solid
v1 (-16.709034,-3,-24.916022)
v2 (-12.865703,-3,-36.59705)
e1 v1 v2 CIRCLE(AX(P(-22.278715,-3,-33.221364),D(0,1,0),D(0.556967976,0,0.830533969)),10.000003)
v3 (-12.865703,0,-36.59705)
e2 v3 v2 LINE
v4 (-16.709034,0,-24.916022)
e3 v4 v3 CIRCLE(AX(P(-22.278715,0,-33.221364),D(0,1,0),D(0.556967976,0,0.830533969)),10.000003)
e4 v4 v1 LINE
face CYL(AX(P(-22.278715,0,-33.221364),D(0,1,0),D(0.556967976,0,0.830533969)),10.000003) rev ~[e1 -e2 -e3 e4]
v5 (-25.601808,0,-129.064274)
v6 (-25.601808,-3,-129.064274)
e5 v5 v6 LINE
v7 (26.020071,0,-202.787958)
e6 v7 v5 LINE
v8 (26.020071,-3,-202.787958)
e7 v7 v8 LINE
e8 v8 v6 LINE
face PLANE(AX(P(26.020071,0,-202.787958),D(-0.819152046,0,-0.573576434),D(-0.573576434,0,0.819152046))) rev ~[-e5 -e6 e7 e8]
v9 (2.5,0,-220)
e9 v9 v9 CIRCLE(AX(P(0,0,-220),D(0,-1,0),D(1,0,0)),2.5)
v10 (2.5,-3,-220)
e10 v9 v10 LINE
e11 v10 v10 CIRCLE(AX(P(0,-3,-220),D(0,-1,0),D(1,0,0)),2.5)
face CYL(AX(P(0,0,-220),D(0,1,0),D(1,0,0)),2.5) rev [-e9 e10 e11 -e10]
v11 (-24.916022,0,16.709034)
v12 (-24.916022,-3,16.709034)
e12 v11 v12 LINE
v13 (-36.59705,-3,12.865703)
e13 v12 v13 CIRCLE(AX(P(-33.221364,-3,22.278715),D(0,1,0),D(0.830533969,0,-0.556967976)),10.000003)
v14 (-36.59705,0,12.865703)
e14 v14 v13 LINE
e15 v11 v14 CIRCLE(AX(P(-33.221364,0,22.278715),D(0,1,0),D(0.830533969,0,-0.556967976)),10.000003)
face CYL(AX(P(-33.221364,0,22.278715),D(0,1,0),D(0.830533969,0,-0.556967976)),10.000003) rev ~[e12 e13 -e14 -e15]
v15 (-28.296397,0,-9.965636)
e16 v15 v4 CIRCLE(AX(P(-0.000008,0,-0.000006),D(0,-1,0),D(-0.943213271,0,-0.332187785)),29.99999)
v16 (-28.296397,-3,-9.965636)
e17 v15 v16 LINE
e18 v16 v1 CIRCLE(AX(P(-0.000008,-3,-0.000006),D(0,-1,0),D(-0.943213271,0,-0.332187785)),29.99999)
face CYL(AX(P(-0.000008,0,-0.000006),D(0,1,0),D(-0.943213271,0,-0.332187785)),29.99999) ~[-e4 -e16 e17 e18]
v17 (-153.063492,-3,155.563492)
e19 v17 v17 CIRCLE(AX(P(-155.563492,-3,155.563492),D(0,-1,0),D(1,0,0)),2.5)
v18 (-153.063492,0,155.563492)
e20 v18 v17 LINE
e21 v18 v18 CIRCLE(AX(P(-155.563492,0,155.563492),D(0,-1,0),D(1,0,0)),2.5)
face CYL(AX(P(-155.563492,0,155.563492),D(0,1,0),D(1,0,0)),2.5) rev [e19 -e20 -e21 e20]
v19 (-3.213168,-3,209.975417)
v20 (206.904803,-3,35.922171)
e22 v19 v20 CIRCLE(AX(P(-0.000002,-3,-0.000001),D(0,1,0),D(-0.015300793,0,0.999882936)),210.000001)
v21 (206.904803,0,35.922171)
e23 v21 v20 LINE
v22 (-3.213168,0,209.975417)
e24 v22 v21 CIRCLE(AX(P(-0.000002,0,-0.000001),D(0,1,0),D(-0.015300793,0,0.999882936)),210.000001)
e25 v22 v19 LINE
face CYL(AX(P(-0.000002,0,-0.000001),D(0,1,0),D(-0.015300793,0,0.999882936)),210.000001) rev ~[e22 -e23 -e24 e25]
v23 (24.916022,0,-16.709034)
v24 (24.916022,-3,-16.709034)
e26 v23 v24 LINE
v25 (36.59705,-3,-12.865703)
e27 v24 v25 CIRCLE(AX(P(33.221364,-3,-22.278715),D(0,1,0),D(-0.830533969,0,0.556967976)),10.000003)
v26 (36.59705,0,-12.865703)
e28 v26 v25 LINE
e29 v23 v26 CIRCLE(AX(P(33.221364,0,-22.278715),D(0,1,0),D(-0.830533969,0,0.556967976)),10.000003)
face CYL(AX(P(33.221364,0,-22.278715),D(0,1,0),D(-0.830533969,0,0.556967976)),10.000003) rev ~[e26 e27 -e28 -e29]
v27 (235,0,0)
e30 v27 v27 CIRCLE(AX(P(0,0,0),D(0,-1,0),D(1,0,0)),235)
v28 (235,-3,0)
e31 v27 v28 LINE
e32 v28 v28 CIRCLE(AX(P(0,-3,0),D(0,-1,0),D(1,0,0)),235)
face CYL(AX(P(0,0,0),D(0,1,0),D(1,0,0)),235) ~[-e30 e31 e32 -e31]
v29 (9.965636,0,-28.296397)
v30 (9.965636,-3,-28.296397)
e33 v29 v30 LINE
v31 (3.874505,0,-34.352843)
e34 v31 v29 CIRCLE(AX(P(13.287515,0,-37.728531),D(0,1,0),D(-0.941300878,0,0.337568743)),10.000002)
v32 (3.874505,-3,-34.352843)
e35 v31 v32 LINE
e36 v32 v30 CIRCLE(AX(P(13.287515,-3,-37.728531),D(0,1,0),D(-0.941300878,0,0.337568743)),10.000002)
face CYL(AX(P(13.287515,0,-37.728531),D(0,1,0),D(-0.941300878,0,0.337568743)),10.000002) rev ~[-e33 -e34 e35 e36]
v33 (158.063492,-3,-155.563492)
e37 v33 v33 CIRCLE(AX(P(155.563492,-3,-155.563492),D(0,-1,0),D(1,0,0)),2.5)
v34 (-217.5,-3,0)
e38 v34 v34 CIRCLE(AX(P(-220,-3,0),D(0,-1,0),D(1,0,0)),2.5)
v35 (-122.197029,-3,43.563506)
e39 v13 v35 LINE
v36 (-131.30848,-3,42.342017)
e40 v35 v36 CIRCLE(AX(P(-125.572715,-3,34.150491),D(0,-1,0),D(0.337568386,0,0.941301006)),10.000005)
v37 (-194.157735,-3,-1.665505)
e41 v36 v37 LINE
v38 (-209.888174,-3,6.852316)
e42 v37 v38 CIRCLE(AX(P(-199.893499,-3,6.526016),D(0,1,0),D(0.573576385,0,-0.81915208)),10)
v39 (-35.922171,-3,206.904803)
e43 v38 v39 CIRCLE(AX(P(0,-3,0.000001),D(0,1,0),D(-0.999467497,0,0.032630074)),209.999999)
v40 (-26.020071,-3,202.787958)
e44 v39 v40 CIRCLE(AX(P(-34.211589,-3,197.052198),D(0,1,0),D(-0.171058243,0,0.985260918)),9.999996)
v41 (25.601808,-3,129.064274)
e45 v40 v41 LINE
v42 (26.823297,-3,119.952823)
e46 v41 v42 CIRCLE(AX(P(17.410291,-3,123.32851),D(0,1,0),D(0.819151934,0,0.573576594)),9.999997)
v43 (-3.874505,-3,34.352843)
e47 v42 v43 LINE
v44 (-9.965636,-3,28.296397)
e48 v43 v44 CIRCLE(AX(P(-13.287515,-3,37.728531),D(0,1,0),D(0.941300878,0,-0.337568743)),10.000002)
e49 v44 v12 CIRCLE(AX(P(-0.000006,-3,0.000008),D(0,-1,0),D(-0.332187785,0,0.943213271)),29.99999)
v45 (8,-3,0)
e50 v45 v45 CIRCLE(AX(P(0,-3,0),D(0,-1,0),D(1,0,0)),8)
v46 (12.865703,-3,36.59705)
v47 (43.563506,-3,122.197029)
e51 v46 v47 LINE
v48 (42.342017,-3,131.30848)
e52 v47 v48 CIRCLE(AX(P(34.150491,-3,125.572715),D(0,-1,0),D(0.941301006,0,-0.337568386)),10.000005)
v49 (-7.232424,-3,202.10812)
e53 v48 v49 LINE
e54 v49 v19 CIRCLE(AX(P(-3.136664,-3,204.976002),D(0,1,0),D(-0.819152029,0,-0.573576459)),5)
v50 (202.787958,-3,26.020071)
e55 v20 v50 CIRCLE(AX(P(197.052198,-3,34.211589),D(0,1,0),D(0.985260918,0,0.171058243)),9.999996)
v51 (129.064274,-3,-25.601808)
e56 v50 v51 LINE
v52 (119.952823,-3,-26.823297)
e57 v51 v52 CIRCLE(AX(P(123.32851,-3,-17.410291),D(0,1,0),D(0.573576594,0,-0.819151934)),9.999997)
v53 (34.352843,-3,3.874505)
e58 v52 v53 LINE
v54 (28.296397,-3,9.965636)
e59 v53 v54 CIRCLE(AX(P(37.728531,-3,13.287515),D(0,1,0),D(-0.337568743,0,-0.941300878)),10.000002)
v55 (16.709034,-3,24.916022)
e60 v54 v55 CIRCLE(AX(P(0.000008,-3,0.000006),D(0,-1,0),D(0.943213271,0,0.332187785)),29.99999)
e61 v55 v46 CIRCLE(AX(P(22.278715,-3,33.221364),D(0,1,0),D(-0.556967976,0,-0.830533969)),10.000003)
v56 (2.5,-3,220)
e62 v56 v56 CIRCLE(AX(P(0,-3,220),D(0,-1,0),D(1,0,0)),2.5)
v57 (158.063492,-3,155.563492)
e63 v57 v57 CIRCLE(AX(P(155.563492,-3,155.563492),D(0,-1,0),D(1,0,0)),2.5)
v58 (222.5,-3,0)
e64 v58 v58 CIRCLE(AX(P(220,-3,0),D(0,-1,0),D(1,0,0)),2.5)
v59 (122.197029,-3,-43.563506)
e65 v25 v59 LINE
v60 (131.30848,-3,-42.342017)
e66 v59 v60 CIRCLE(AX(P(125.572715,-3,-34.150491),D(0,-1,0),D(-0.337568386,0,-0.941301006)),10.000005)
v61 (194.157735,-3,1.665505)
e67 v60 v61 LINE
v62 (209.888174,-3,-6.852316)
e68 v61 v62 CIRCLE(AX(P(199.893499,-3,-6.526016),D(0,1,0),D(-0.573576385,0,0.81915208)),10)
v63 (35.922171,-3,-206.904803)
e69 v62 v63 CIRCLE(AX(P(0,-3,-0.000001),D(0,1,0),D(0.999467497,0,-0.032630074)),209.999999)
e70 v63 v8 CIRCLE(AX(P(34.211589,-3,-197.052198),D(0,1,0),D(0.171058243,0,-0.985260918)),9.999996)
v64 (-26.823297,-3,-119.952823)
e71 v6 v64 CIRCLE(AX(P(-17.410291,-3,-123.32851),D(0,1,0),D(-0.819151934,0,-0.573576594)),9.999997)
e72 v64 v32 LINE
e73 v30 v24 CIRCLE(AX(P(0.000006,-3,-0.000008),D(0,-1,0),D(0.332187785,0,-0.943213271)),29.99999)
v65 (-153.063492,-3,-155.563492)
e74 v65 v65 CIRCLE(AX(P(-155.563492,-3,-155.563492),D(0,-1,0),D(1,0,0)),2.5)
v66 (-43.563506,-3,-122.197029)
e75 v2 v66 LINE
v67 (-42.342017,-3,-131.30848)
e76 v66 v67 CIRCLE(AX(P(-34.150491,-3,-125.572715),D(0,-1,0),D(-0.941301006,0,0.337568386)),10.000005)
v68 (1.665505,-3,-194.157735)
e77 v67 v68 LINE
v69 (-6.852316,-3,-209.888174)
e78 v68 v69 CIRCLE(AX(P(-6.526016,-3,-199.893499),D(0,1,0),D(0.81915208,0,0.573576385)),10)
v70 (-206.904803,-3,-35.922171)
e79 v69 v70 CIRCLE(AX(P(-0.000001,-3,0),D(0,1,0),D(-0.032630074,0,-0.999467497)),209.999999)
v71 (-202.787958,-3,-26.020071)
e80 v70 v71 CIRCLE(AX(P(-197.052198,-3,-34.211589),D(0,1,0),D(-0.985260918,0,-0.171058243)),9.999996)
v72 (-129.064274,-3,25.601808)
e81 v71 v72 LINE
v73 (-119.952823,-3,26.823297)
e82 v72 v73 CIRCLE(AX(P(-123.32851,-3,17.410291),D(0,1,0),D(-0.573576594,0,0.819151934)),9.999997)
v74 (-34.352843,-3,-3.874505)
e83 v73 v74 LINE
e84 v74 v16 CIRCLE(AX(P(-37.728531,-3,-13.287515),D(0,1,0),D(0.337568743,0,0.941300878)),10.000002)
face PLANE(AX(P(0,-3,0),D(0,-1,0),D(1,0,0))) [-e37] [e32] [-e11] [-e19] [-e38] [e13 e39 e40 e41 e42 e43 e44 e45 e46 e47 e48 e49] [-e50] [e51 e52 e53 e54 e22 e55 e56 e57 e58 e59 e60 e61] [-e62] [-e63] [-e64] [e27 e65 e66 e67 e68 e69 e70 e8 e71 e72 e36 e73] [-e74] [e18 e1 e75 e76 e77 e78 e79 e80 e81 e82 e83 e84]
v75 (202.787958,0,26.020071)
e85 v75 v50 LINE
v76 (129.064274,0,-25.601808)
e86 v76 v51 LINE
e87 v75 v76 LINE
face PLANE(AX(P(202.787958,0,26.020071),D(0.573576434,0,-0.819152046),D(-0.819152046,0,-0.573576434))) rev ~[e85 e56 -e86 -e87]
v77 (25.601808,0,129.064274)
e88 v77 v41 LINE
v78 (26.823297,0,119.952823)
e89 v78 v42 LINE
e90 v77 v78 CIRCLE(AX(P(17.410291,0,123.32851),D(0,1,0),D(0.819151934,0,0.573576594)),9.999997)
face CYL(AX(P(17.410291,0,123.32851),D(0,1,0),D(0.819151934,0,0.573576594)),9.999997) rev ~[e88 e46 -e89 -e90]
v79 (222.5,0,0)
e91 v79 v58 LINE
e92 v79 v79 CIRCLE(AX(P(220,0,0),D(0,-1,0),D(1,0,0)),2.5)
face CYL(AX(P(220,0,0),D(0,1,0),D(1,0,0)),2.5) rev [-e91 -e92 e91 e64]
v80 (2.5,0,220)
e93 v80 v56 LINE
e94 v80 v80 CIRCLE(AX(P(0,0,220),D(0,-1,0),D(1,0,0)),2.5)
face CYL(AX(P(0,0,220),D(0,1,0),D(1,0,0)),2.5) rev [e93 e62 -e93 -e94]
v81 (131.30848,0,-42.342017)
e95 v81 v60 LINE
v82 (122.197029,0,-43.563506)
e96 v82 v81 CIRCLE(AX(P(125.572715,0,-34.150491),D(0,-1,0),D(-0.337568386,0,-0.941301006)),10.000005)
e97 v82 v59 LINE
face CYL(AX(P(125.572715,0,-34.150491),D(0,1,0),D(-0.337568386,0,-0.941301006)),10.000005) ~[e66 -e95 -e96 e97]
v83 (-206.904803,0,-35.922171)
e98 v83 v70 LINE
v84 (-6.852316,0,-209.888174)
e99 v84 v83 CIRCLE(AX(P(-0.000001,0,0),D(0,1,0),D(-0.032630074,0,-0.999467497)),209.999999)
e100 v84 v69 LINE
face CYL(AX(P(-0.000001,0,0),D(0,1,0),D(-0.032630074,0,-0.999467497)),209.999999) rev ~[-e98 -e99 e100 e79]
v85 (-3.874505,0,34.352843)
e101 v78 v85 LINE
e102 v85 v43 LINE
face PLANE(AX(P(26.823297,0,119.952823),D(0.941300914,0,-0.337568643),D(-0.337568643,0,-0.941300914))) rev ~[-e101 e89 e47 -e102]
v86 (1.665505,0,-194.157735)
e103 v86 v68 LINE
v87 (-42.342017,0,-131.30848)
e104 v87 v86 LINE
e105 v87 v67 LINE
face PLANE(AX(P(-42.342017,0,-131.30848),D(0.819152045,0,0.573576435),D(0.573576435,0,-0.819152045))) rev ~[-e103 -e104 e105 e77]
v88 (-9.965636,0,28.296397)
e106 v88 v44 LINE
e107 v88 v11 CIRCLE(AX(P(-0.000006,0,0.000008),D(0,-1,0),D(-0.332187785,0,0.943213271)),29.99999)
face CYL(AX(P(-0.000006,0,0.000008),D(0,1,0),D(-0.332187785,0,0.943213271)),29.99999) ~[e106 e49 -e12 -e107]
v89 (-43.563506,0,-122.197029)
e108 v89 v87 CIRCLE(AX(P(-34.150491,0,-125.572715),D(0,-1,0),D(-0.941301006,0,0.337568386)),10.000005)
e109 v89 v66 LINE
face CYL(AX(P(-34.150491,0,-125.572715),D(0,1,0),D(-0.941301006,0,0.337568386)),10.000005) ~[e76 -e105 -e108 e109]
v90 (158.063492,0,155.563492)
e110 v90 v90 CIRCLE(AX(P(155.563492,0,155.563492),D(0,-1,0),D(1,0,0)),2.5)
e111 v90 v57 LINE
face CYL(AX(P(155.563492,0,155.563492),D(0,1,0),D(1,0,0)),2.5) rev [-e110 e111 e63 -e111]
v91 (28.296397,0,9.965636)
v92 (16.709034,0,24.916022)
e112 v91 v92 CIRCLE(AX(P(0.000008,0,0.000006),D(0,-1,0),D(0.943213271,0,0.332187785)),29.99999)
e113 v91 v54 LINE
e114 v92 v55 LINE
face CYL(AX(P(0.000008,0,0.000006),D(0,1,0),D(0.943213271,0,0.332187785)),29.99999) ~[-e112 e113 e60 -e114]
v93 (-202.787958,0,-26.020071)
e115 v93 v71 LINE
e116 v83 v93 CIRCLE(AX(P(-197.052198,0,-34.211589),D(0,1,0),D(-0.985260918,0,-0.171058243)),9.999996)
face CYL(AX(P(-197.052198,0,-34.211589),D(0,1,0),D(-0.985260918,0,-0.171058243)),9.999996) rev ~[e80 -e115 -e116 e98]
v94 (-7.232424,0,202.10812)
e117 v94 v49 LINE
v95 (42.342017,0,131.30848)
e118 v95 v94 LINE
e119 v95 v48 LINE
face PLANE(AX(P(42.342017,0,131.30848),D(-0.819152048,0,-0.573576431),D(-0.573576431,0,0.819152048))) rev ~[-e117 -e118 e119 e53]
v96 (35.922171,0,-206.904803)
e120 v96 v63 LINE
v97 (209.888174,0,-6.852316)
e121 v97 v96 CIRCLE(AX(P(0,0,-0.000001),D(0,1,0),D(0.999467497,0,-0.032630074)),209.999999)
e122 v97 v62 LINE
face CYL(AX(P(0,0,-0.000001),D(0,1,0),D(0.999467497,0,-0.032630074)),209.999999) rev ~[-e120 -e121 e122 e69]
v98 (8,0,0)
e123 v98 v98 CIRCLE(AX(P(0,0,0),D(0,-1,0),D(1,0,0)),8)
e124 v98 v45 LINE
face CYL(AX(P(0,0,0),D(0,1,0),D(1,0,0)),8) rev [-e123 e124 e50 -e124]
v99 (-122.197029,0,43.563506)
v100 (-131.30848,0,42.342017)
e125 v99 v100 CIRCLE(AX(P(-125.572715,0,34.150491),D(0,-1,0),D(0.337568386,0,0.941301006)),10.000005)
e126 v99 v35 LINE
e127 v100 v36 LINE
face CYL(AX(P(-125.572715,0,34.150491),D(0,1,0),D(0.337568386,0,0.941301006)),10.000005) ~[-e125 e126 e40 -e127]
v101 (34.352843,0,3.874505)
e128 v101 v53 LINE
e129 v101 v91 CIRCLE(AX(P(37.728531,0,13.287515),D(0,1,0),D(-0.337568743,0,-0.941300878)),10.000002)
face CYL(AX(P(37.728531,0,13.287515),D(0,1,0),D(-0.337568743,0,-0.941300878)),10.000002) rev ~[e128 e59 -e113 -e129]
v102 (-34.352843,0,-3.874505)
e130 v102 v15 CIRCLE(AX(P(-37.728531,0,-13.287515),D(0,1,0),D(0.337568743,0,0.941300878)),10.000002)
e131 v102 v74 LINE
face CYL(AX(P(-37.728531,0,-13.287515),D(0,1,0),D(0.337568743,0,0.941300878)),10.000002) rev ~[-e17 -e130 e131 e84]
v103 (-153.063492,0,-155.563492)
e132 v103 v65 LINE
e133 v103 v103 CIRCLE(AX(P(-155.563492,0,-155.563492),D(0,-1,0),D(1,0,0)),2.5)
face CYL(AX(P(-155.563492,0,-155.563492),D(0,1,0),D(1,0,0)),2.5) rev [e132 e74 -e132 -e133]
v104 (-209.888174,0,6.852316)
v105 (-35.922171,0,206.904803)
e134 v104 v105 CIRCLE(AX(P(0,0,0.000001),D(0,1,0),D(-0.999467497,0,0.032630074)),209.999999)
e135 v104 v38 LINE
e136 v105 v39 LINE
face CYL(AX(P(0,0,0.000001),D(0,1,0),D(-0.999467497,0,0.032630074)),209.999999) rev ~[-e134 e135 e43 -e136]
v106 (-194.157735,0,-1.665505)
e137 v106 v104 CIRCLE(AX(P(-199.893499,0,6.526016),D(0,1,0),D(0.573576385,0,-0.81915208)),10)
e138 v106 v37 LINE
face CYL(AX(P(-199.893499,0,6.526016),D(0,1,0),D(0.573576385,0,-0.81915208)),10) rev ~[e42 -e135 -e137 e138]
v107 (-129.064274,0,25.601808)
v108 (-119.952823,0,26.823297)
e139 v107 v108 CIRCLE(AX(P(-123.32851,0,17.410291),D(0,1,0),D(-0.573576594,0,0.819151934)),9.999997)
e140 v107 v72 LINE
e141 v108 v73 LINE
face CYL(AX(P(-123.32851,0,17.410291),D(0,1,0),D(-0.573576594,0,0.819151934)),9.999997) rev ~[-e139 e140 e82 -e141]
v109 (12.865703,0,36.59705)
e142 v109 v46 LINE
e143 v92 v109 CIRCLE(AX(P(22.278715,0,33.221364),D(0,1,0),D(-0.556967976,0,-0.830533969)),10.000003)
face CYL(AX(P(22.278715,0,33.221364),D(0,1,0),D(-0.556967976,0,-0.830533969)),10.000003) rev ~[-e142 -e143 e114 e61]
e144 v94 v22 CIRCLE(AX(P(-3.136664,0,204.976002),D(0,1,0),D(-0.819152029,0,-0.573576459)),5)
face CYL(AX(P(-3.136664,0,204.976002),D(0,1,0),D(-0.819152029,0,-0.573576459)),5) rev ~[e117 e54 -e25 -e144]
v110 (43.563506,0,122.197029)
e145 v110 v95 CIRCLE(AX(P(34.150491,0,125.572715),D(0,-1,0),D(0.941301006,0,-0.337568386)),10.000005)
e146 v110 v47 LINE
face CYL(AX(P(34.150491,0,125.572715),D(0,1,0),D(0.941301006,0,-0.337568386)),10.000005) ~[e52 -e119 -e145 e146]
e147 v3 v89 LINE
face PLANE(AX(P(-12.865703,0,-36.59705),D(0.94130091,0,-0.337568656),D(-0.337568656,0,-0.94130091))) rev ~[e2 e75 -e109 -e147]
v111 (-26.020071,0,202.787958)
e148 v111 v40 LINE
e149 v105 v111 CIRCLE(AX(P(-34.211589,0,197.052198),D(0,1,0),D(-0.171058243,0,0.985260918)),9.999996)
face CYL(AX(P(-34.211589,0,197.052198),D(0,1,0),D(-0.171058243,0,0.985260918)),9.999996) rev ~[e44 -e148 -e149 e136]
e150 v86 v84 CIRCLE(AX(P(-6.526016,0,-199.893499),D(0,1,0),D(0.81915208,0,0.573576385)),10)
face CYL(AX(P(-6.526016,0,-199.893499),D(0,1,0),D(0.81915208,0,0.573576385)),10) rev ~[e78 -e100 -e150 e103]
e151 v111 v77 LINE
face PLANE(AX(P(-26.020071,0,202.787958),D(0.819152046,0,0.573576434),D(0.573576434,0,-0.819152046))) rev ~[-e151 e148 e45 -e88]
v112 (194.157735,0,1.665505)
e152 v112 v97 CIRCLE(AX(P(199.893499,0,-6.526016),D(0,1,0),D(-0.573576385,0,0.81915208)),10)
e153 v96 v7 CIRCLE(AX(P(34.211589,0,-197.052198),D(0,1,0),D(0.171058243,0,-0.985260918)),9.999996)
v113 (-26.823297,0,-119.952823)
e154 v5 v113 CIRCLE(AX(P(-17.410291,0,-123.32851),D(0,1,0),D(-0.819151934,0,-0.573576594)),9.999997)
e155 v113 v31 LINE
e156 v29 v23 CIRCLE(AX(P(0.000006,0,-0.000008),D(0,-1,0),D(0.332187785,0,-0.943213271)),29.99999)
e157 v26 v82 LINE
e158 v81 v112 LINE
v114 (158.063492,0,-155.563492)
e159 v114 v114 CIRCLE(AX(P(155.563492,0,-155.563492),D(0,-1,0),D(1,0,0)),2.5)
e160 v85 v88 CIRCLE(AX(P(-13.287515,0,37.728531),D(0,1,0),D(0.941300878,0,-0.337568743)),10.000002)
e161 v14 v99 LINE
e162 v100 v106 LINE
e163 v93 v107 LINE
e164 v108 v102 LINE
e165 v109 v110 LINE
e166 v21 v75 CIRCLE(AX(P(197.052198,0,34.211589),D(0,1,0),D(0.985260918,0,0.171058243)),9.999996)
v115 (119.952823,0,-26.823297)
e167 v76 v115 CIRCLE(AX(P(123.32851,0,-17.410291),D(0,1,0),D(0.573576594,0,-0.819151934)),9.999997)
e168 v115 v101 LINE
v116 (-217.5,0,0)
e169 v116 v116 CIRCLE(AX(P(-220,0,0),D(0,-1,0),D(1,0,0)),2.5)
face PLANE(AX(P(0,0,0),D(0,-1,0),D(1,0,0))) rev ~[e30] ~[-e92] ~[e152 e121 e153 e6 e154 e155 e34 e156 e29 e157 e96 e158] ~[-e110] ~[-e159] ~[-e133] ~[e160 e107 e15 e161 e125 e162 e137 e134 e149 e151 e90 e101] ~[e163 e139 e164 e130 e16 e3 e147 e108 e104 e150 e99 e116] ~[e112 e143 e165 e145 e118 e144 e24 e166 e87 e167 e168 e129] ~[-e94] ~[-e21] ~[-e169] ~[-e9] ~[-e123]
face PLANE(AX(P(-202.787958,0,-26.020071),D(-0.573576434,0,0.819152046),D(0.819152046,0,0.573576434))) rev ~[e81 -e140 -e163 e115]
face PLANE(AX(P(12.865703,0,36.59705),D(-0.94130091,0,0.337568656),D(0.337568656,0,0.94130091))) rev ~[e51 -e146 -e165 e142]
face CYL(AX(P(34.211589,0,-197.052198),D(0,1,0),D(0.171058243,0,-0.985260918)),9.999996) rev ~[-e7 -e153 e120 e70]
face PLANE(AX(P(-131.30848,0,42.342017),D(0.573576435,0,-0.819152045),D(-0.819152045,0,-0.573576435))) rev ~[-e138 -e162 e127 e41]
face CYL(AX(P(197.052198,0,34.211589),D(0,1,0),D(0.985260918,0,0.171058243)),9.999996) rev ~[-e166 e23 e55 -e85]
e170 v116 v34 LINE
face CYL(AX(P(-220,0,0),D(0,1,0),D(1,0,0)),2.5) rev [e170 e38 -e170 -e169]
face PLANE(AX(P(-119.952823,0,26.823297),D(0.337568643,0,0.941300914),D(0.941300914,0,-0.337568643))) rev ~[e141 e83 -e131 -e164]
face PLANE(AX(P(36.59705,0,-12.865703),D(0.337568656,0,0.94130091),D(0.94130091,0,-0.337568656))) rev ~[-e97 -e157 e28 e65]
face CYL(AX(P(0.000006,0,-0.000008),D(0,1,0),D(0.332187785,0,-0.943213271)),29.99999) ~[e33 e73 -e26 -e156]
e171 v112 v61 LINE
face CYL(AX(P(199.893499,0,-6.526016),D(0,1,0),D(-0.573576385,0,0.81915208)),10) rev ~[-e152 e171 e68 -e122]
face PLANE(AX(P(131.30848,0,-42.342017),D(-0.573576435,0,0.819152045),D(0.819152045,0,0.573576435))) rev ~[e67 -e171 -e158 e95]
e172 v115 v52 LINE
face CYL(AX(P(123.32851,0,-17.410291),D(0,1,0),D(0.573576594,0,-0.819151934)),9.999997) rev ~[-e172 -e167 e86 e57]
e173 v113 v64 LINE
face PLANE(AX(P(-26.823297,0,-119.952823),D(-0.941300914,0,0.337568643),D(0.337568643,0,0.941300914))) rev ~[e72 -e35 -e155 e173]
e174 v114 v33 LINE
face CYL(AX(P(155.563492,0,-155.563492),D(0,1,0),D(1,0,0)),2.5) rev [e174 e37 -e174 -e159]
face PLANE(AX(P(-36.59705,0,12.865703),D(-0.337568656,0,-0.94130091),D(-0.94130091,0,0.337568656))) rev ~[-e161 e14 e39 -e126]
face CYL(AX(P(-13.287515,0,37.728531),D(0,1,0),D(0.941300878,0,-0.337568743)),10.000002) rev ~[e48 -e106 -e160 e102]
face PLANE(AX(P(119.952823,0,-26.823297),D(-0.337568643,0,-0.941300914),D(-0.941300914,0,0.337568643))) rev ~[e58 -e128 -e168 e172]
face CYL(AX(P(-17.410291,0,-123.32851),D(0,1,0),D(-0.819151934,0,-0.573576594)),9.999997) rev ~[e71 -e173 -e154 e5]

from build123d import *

# Parameters (mm, degrees)
F0_R     = 235
F0_R_2   = 2.5
F0_R_3   = 8
F1_DEPTH = 3


with BuildPart() as f1:
    # F0 (on Front) → F1 (new body)
    with BuildSketch(Plane.XZ):
        Circle(F0_R)
        with Locations((-155.563492, -155.563492)):
            Circle(F0_R_2, mode=Mode.SUBTRACT)
        with BuildLine():
            ThreePointArc((-129.064274, 25.601808), (-124.657231, 27.32162), (-119.952823, 26.823297))
            Line((-119.952823, 26.823297), (-34.352843, -3.874505))
            ThreePointArc((-34.352843, -3.874505), (-30.637301, -6.236665), (-28.296397, -9.965636))
            ThreePointArc((-28.296397, -9.965636), (-23.711827, -18.377956), (-16.709034, -24.916022))
            ThreePointArc((-16.709034, -24.916022), (-12.779669, -30.095956), (-12.865703, -36.59705))
            Line((-12.865703, -36.59705), (-43.563506, -122.197029))
            ThreePointArc((-43.563506, -122.197029), (-44.061828, -126.901437), (-42.342017, -131.30848))
            Line((-42.342017, -131.30848), (1.665505, -194.157735))
            ThreePointArc((1.665505, -194.157735), (2.267567, -204.655106), (-6.852316, -209.888174))
            ThreePointArc((-6.852316, -209.888174), (-137.800831, -158.464289), (-206.904803, -35.922171))
            ThreePointArc((-206.904803, -35.922171), (-206.28595, -30.372613), (-202.787958, -26.020071))
            Line((-202.787958, -26.020071), (-129.064274, 25.601808))
        make_face(mode=Mode.SUBTRACT)
        with Locations((0, -220)):
            Circle(F0_R_2, mode=Mode.SUBTRACT)
        with Locations((155.563492, -155.563492)):
            Circle(F0_R_2, mode=Mode.SUBTRACT)
        with BuildLine():
            ThreePointArc((24.916022, -16.709034), (30.095956, -12.779669), (36.59705, -12.865703))
            Line((36.59705, -12.865703), (122.197029, -43.563506))
            ThreePointArc((122.197029, -43.563506), (126.901437, -44.061828), (131.30848, -42.342017))
            Line((131.30848, -42.342017), (194.157735, 1.665505))
            ThreePointArc((194.157735, 1.665505), (204.655106, 2.267567), (209.888174, -6.852316))
            ThreePointArc((209.888174, -6.852316), (158.464289, -137.800831), (35.922171, -206.904803))
            ThreePointArc((35.922171, -206.904803), (30.372613, -206.28595), (26.020071, -202.787958))
            Line((26.020071, -202.787958), (-25.601808, -129.064274))
            ThreePointArc((-25.601808, -129.064274), (-27.32162, -124.657231), (-26.823297, -119.952823))
            Line((-26.823297, -119.952823), (3.874505, -34.352843))
            ThreePointArc((3.874505, -34.352843), (6.236665, -30.637301), (9.965636, -28.296397))
            ThreePointArc((9.965636, -28.296397), (18.377956, -23.711827), (24.916022, -16.709034))
        make_face(mode=Mode.SUBTRACT)
        with Locations((-220, 0)):
            Circle(F0_R_2, mode=Mode.SUBTRACT)
        with BuildLine():
            ThreePointArc((-3.874505, 34.352843), (-6.236665, 30.637301), (-9.965636, 28.296397))
            ThreePointArc((-9.965636, 28.296397), (-18.377956, 23.711827), (-24.916022, 16.709034))
            ThreePointArc((-24.916022, 16.709034), (-30.095956, 12.779669), (-36.59705, 12.865703))
            Line((-36.59705, 12.865703), (-122.197029, 43.563506))
            ThreePointArc((-122.197029, 43.563506), (-126.901437, 44.061828), (-131.30848, 42.342017))
            Line((-131.30848, 42.342017), (-194.157735, -1.665505))
            ThreePointArc((-194.157735, -1.665505), (-204.655106, -2.267567), (-209.888174, 6.852316))
            ThreePointArc((-209.888174, 6.852316), (-158.464289, 137.800831), (-35.922171, 206.904803))
            ThreePointArc((-35.922171, 206.904803), (-30.372613, 206.28595), (-26.020071, 202.787958))
            Line((-26.020071, 202.787958), (25.601808, 129.064274))
            ThreePointArc((25.601808, 129.064274), (27.32162, 124.657231), (26.823297, 119.952823))
            Line((26.823297, 119.952823), (-3.874505, 34.352843))
        make_face(mode=Mode.SUBTRACT)
        with Locations((-155.563492, 155.563492)):
            Circle(F0_R_2, mode=Mode.SUBTRACT)
        Circle(F0_R_3, mode=Mode.SUBTRACT)
        with BuildLine():
            ThreePointArc((-3.213168, 209.975417), (133.963441, 161.721354), (206.904803, 35.922171))
            ThreePointArc((206.904803, 35.922171), (206.28595, 30.372613), (202.787958, 26.020071))
            Line((202.787958, 26.020071), (129.064274, -25.601808))
            ThreePointArc((129.064274, -25.601808), (124.657231, -27.32162), (119.952823, -26.823297))
            Line((119.952823, -26.823297), (34.352843, 3.874505))
            ThreePointArc((34.352843, 3.874505), (30.637301, 6.236665), (28.296397, 9.965636))
            ThreePointArc((28.296397, 9.965636), (23.711827, 18.377956), (16.709034, 24.916022))
            ThreePointArc((16.709034, 24.916022), (12.779669, 30.095956), (12.865703, 36.59705))
            Line((12.865703, 36.59705), (43.563506, 122.197029))
            ThreePointArc((43.563506, 122.197029), (44.061828, 126.901437), (42.342017, 131.30848))
            Line((42.342017, 131.30848), (-7.232424, 202.10812))
            ThreePointArc((-7.232424, 202.10812), (-7.589252, 207.250746), (-3.213168, 209.975417))
        make_face(mode=Mode.SUBTRACT)
        with Locations((220, 0)):
            Circle(F0_R_2, mode=Mode.SUBTRACT)
        with Locations((0, 220)):
            Circle(F0_R_2, mode=Mode.SUBTRACT)
        with Locations((155.563492, 155.563492)):
            Circle(F0_R_2, mode=Mode.SUBTRACT)
    extrude(amount=F1_DEPTH)


solid = f1.part
